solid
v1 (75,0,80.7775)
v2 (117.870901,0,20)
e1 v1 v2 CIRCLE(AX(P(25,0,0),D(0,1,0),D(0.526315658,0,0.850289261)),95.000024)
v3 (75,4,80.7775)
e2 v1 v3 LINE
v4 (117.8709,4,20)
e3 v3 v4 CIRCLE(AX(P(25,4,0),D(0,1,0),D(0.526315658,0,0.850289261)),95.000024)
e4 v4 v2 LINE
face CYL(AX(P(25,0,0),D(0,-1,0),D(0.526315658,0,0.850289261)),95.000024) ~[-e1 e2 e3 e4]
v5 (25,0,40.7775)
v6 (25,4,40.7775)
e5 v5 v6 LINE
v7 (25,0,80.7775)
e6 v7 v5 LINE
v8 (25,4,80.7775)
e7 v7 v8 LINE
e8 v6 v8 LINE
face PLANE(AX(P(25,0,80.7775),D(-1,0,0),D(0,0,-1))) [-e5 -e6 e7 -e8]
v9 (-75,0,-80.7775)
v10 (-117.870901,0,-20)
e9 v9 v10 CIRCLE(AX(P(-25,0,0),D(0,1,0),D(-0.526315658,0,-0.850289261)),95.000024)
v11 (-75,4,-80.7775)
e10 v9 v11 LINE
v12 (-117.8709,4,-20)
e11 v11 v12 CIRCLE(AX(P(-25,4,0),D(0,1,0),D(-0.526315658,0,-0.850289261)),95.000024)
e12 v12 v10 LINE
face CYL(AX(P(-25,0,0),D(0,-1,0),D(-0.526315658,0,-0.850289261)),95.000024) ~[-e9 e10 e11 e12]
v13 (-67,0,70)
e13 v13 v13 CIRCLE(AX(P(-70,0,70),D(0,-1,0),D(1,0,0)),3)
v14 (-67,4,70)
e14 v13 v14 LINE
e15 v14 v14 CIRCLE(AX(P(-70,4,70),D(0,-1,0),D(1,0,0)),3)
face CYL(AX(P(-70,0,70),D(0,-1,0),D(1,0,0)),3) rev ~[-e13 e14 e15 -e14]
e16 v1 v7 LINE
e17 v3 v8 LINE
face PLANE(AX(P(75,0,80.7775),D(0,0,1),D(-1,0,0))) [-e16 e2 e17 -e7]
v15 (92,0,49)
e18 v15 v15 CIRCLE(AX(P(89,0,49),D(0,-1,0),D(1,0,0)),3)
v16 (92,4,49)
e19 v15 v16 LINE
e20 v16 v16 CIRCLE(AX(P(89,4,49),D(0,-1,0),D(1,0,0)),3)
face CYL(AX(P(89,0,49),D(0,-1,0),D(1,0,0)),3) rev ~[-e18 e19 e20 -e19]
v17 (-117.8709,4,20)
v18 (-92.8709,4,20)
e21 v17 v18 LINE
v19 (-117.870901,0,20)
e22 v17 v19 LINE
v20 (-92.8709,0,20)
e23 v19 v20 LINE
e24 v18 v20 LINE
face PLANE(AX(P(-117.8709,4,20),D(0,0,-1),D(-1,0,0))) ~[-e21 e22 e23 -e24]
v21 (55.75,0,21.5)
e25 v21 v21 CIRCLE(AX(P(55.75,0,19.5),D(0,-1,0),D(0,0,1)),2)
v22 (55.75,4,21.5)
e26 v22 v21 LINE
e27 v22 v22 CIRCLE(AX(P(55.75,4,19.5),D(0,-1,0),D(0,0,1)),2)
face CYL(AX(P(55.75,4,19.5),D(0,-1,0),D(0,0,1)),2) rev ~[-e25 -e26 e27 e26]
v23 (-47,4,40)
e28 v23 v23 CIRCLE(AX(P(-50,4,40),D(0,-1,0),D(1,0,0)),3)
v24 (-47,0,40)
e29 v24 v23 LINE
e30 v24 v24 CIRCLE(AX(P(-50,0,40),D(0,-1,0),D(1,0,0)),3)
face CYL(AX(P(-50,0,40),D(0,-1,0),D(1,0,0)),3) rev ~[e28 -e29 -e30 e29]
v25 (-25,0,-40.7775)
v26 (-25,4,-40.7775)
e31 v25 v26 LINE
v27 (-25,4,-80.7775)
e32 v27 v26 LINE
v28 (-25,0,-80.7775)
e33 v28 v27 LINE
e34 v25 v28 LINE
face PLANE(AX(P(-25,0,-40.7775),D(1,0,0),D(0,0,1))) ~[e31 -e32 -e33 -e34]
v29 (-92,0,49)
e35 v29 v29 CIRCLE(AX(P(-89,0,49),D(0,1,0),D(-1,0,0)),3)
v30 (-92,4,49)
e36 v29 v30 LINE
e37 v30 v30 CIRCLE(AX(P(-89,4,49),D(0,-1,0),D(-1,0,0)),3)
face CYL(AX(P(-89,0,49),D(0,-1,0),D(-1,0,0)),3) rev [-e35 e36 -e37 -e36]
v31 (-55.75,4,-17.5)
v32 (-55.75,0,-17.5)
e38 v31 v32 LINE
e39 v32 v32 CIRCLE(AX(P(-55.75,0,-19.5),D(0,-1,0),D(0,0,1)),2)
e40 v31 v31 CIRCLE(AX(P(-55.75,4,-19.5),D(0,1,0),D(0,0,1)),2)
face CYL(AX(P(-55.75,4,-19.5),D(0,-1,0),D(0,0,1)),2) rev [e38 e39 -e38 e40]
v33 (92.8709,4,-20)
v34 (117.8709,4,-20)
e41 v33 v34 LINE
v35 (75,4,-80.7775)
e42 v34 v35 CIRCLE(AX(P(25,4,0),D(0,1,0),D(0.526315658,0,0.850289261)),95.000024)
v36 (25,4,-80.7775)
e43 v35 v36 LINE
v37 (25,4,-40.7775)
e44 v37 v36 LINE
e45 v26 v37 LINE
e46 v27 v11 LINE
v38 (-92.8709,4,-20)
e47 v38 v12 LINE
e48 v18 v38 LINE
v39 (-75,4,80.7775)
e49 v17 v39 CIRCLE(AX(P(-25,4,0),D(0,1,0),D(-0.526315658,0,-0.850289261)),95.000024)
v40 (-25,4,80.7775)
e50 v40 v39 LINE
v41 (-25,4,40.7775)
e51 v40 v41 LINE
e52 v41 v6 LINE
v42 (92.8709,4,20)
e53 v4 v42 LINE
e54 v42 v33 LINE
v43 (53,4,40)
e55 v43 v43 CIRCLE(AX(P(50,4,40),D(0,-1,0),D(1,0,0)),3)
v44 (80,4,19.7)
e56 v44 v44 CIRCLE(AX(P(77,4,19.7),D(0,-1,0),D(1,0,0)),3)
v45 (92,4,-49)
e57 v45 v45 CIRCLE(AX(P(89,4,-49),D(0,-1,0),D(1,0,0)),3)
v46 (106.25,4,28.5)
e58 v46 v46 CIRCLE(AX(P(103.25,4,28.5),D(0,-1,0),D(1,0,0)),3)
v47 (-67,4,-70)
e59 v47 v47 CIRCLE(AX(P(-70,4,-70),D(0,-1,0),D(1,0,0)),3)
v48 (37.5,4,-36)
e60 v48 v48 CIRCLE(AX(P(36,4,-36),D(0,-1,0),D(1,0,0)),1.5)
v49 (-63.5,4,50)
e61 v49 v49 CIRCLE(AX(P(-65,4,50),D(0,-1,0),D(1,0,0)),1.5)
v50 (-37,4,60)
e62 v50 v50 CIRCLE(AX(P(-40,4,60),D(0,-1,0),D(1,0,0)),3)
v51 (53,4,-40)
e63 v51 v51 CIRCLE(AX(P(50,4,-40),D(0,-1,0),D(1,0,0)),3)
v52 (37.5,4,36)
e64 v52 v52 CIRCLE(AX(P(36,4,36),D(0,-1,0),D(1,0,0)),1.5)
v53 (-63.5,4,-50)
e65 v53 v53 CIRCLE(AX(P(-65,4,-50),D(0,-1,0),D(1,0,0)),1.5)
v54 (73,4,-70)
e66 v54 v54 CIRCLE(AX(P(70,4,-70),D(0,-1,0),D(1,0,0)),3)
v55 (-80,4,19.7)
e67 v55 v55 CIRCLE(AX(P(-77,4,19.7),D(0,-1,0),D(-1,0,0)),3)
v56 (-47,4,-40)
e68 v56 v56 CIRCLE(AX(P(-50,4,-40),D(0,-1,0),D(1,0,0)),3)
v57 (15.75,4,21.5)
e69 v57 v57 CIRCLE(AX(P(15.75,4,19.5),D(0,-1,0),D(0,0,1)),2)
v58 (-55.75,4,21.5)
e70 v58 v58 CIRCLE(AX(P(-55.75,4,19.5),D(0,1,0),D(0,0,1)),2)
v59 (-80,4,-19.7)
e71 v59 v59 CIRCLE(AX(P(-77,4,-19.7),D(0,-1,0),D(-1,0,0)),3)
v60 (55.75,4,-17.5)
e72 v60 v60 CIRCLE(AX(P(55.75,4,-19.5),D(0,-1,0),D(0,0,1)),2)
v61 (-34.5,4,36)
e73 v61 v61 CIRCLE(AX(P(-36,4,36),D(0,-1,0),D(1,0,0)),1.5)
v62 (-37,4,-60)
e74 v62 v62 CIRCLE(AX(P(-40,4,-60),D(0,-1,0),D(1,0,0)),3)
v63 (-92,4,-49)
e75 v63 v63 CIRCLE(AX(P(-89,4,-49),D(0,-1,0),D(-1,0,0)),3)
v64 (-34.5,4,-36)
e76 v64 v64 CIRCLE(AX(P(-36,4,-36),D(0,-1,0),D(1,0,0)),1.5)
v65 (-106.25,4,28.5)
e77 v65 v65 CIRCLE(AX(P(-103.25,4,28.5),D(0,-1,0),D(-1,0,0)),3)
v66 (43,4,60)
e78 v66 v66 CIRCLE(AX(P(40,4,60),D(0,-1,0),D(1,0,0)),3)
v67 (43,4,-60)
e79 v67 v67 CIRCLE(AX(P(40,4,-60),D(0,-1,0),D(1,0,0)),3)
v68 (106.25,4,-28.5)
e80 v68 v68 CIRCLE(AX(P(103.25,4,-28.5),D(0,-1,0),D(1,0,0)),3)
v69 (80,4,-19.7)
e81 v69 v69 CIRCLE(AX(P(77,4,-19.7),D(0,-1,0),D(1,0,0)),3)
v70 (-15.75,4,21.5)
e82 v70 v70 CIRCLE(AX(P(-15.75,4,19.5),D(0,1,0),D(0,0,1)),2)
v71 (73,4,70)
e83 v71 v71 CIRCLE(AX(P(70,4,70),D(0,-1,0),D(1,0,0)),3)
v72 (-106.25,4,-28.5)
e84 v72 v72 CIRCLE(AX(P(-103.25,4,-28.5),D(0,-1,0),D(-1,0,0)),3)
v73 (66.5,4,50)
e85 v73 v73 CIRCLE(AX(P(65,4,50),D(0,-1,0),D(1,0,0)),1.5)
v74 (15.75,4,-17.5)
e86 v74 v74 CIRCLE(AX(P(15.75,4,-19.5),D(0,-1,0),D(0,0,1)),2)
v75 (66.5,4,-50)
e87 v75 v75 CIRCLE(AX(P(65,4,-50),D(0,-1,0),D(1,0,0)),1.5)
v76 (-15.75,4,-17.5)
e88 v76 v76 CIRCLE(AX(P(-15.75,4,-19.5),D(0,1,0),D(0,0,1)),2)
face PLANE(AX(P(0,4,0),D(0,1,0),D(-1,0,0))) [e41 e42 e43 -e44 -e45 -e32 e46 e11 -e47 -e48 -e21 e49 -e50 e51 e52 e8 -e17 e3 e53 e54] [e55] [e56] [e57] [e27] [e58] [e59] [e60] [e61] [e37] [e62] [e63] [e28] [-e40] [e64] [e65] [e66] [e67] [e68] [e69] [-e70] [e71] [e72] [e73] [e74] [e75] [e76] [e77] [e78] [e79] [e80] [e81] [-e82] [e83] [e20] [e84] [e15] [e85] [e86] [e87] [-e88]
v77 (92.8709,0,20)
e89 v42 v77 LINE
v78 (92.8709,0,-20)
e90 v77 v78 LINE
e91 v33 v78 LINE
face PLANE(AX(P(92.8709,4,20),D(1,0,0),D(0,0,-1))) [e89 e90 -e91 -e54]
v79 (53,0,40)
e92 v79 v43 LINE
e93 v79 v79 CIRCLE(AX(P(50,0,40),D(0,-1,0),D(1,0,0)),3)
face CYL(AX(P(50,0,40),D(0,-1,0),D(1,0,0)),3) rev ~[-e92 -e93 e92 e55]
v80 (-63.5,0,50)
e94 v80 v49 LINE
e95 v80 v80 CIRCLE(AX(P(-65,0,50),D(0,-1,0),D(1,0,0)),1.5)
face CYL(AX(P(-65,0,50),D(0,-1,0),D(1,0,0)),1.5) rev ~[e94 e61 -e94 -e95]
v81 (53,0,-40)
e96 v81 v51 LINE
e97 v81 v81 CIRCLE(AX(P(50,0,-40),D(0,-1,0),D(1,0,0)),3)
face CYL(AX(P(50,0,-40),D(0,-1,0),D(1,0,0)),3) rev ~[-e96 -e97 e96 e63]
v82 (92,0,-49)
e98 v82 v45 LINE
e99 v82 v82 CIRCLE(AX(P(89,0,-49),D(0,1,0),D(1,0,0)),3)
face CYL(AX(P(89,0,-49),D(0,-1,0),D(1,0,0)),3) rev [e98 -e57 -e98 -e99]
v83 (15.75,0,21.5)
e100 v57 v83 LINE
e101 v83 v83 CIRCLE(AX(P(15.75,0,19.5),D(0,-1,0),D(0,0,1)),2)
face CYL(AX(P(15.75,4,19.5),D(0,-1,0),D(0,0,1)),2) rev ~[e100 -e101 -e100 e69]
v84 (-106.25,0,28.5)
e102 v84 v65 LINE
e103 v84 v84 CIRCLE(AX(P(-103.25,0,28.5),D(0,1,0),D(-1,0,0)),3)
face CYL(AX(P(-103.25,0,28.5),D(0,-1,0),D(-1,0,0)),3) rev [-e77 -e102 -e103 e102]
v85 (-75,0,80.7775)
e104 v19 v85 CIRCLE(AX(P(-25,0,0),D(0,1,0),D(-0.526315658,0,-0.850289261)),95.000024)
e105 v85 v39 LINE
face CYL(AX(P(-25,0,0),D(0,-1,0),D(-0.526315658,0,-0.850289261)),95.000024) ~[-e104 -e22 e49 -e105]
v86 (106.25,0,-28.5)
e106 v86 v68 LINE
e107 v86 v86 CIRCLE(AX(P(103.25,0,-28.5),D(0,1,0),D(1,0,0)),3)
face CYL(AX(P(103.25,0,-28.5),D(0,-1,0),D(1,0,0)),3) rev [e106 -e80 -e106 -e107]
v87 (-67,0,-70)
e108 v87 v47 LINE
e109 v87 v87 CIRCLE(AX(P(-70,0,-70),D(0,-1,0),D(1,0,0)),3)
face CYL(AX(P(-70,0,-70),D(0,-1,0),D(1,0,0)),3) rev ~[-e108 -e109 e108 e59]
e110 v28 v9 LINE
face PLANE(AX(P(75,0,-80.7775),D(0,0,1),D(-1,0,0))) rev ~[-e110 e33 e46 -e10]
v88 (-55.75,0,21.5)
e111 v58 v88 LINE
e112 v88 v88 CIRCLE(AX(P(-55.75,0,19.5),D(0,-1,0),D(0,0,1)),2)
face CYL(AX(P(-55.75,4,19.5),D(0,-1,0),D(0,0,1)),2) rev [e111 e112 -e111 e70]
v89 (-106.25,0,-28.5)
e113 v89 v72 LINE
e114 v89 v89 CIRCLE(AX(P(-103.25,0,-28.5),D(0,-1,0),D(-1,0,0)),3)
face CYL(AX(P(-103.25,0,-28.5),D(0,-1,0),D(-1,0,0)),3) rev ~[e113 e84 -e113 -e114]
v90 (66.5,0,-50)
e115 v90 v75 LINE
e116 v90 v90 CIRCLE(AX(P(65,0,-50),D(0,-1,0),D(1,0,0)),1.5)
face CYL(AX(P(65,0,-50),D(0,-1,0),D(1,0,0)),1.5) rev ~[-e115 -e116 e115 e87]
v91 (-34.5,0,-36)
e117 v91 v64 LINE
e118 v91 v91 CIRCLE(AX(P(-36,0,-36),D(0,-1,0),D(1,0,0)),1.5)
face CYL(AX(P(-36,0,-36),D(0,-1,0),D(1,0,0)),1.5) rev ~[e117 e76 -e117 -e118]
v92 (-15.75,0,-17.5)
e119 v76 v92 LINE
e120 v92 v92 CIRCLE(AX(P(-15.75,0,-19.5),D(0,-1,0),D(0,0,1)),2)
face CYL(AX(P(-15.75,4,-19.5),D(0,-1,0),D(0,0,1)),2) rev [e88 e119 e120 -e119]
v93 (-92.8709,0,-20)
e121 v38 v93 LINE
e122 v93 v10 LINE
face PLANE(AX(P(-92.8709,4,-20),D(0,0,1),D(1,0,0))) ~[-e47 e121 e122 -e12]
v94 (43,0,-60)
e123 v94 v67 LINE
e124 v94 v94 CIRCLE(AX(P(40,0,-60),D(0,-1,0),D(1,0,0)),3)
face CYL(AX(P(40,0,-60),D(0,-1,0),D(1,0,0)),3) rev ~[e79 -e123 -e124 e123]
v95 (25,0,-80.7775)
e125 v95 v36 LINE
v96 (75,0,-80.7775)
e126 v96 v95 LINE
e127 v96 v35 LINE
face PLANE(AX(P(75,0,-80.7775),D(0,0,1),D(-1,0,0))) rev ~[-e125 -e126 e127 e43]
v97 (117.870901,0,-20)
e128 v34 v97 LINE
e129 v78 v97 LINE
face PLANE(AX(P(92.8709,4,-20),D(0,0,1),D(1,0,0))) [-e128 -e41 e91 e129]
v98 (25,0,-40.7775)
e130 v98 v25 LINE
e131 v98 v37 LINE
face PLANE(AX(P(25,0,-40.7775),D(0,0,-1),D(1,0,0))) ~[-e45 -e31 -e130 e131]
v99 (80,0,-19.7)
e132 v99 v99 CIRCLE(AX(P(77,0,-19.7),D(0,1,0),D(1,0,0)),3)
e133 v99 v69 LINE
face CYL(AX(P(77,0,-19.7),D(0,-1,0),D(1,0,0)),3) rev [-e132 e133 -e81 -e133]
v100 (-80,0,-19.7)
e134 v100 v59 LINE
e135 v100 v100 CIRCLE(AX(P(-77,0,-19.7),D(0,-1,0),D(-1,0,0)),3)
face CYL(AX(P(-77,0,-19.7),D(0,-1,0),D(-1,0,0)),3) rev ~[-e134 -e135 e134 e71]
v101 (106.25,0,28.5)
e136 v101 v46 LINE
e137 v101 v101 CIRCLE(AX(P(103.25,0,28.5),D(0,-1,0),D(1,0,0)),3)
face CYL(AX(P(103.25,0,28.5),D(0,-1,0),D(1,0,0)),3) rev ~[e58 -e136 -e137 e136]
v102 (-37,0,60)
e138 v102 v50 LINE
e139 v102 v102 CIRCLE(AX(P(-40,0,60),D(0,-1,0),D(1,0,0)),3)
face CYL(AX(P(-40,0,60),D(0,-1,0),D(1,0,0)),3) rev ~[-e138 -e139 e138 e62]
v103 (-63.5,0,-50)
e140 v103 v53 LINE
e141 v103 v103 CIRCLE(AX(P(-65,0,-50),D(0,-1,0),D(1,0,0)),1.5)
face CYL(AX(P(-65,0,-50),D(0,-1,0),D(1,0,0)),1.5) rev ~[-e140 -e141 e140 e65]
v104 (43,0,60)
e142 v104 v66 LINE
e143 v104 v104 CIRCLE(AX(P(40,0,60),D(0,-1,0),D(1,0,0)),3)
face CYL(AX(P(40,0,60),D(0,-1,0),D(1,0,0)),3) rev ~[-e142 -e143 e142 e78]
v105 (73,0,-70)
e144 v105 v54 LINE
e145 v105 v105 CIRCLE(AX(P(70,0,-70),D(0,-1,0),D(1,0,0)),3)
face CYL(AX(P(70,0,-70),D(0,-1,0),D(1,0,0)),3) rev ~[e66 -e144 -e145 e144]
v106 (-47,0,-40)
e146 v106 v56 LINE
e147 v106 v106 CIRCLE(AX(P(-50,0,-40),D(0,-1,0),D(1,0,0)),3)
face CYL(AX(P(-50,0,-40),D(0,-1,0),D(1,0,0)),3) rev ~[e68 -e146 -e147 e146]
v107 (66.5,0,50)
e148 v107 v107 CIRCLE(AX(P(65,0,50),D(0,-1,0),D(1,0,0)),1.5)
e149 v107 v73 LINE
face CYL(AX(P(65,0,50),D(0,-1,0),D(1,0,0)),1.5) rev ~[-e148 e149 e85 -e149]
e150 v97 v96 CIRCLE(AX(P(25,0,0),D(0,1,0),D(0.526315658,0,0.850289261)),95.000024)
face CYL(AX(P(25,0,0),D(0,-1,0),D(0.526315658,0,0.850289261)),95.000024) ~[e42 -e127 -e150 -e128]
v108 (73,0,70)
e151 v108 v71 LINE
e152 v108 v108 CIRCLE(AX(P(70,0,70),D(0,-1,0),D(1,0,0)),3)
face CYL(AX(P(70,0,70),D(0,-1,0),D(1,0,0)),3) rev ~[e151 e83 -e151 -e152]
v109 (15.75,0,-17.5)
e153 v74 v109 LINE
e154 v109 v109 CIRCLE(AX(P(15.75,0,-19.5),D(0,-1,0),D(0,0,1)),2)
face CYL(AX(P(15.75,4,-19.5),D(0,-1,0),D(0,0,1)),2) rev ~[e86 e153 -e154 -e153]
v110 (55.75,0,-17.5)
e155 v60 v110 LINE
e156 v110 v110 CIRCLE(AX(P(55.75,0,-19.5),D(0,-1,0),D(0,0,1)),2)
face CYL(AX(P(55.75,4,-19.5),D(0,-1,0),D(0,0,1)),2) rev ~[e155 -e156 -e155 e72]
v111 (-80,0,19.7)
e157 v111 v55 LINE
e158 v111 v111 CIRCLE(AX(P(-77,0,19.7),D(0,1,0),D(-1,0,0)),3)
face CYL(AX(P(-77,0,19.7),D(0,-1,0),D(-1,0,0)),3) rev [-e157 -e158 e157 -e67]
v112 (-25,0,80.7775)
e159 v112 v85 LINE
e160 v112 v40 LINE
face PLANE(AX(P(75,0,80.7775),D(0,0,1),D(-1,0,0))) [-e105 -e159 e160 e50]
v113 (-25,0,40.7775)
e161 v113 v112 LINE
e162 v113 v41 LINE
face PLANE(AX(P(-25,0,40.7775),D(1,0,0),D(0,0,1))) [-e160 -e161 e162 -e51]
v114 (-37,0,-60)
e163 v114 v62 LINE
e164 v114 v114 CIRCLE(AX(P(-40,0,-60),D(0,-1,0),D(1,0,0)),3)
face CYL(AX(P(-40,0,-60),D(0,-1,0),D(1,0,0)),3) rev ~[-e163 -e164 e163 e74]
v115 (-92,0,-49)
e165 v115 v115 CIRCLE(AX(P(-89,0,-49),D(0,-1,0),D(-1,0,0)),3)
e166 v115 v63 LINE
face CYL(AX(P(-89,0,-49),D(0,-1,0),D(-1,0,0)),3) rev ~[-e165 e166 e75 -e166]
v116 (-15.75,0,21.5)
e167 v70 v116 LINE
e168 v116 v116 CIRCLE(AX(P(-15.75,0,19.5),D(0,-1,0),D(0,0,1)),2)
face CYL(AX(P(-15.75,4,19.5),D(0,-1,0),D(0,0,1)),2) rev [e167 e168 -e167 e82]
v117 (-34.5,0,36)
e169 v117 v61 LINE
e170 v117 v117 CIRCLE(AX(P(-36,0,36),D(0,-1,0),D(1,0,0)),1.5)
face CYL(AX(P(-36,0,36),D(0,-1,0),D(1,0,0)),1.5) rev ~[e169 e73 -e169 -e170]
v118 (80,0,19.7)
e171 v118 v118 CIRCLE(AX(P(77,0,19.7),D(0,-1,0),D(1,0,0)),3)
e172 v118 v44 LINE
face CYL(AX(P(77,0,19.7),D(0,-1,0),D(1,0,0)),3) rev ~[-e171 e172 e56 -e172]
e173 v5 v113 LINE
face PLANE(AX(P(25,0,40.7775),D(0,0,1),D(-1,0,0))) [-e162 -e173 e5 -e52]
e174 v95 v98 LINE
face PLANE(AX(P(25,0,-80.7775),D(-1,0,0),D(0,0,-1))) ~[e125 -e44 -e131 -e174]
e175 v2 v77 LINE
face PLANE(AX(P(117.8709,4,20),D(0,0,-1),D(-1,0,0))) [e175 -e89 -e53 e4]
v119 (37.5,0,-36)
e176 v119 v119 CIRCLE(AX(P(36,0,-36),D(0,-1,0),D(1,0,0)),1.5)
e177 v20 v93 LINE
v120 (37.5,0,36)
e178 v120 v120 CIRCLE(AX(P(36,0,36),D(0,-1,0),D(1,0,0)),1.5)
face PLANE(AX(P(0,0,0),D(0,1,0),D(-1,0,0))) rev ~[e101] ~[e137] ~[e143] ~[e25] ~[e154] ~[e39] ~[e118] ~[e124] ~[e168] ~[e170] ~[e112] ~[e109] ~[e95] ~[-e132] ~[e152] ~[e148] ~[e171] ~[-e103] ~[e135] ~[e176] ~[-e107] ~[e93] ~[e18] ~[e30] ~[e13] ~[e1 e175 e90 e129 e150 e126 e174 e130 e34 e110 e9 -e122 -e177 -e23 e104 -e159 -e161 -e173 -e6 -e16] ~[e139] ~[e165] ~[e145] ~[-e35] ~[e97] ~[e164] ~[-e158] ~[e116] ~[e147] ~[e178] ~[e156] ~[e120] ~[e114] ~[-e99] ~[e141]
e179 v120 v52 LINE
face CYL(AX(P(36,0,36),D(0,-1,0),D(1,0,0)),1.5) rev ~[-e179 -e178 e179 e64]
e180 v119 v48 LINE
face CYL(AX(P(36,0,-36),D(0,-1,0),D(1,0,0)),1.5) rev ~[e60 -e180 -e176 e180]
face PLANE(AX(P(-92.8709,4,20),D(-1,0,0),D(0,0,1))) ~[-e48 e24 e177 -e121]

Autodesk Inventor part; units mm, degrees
ref_plane "YZ Plane" through (0, 0, 0) normal (1, 0, 0) x (0, 1, 0)
ref_plane "XZ Plane" through (0, 0, 0) normal (0, 1, 0) x (-1, 0, 0)
ref_plane "XY Plane" through (0, 0, 0) normal (0, 0, 1) x (1, 0, 0)
sketch "Esquisse1" plane through (0, 0, 0) normal (0, 1, 0) x (-1, 0, 0)
  circle A0 centre (0, 0) radius 25 construction
  line L0 (-25, 0) -> (25, 0) construction
  arc A1 (-75, -80.7775) -> (-75, 80.7775) centre (-25, 0) ccw construction
  arc A2 (75, 80.7775) -> (75, -80.7775) centre (25, 0) ccw construction
  line L1 (0, 25) -> (0, 0) construction
  line L2 (-75, 80.7775) -> (75, 80.7775)
  line L3 (-75, -80.7775) -> (75, -80.7775)
  arc A3 (75, -80.7775) -> (75, 80.7775) centre (25, 0) ccw
  arc A4 (-75, 80.7775) -> (-75, -80.7775) centre (-25, 0) ccw
  dimension "d0" = 50
  dimension "d1" = 190
  dimension "d2" = 150
extrude "Extrusion1" add sketch "Esquisse1" along normal blind 4
sketch "Esquisse4" plane through (0, 0, 0) normal (0, -1, 0) x (1, 0, 0)
  line L0 (-50, 40) -> (50, 40) construction
  line L1 (50, 40) -> (50, -40) construction
  line L2 (50, -40) -> (-50, -40) construction
  line L3 (-50, -40) -> (-50, 40) construction
  circle A0 centre (-50, 40) radius 3
  circle A1 centre (50, 40) radius 3
  circle A2 centre (50, -40) radius 3
  circle A3 centre (-50, -40) radius 3
  line L4 (75, 80.7775) -> (-75, 80.7775) projected
  point P0 (0, 0)
  dimension "d15" = 80
  dimension "d16" = 100
  dimension "d17" = 50
  dimension "d18" = 40
  dimension "d19" = 6
  dimension "d20" = 6
  dimension "d21" = 6
  dimension "d22" = 6
  dimension "d25" = 40.7775
extrude "Extrusion4" cut sketch "Esquisse4" against normal through all
sketch "Esquisse8" plane through (0, 0, 0) normal (0, -1, 0) x (1, 0, 0)
  line L0 (96.5, 35) -> (96.5, -35) projected
  line L1 (82, 42) -> (96, 42)
  line L2 (96, 42) -> (96, -42)
  line L3 (96, -42) -> (82, -42)
  line L4 (82, -42) -> (82, 42)
  line L5 (96, 21.5) -> (108.5, 21.5)
  line L6 (108.5, 21.5) -> (108.5, -21.5)
  line L7 (108.5, -21.5) -> (96, -21.5)
  line L8 (96, -21.5) -> (96, 21.5)
  line L9 (82, -14.7) -> (76.3, -14.7)
  line L10 (76.3, -14.7) -> (76.3, 14.7)
  line L11 (76.3, 14.7) -> (82, 14.7)
  line L12 (82, 14.7) -> (82, -14.7)
  line L13 (82, 14.7) -> (72, 14.7)
  line L14 (72, 14.7) -> (72, 24.7)
  line L15 (72, 24.7) -> (82, 24.7)
  line L16 (82, 24.7) -> (82, 14.7)
  line L17 (96, 21.5) -> (110.5, 21.5)
  line L18 (110.5, 21.5) -> (110.5, 35.5)
  line L19 (110.5, 35.5) -> (96, 35.5)
  line L20 (96, 35.5) -> (96, 21.5)
  line L21 (96, 42) -> (82, 42)
  line L22 (82, 42) -> (82, 56)
  line L23 (82, 56) -> (96, 56)
  line L24 (96, 56) -> (96, 42)
  line L25 (72, 24.7) -> (82, 14.7) construction
  line L26 (82, 24.7) -> (72, 14.7) construction
  line L27 (110.5, 21.5) -> (96, 35.5) construction
  line L28 (96, 21.5) -> (110.5, 35.5) construction
  line L29 (82, 56) -> (96, 42) construction
  line L30 (82, 42) -> (96, 56) construction
  circle A0 centre (89, 49) radius 3
  circle A1 centre (77, 19.7) radius 3
  circle A2 centre (103.25, 28.5) radius 3
  arc A3 (75, -80.7775) -> (75, 80.7775) centre (25, 0) ccw projected
  line L31 (108.5, 21.5) -> (115, 21.5)
  line L32 (115, 21.5) -> (115, -21.5)
  line L33 (115, -21.5) -> (108.5, -21.5)
  line L34 (108.5, -21.5) -> (108.5, 21.5)
  line L35 (0, 0) -> (120, 0)
  dimension "d59" = 84
  dimension "d60" = 14
  dimension "d61" = 29.4
  dimension "d62" = 5.7
  dimension "d63" = 12.5
  dimension "d64" = 43
  dimension "d65" = 42
  dimension "d66" = 14.7
  dimension "d67" = 21.5
  dimension "d68" = 14
  dimension "d69" = 14
  dimension "d70" = 14
  dimension "d71" = 10
  dimension "d72" = 10
  dimension "d73" = 6
  dimension "d74" = 6
  dimension "d75" = 6
  dimension "d78" = 6.5
  dimension "d79" = 5
extrude "Extrusion6" cut sketch "Esquisse8" against normal through all contours A0 | A1 | A2
mirror "Symétrie2" about plane through (0, 0, 0) normal (0, 0, 1) of "Extrusion6"
mirror "Symétrie3" about plane through (0, 0, 0) normal (1, 0, 0) of "Extrusion6", "Symétrie2"
sketch "Esquisse11" plane through (0, 4, 0) normal (0, 1, 0) x (1, 0, 0)
  line L0 (15.75, 19.5) -> (55.75, 19.5)
  line L1 (55.75, 19.5) -> (55.75, -19.5)
  line L2 (55.75, -19.5) -> (15.75, -19.5)
  line L3 (15.75, -19.5) -> (15.75, 19.5)
  line L4 (11.75, 23.5) -> (59.75, 23.5)
  line L5 (59.75, 23.5) -> (59.75, -23.5)
  line L6 (59.75, -23.5) -> (11.75, -23.5)
  line L7 (11.75, -23.5) -> (11.75, 23.5)
  point P0 (0, 0)
  dimension "d103" = 40
  dimension "d104" = 48
  dimension "d105" = 4
  dimension "d106" = 47
  dimension "d107" = 39
  dimension "d108" = 4
  dimension "d109" = 23.5
  dimension "d110" = 11.75
hole "Perçage1" at (15.75, 4, -19.5) at (55.75, 4, -19.5) at (55.75, 4, 19.5) at (15.75, 4, 19.5) direction (0, -1, 0) diameter 4 end through all
mirror "Symétrie7" about plane through (0, 0, 0) normal (1, 0, 0) of "Perçage1"
sketch "Esquisse12" plane through (0, 4, 0) normal (0, 1, 0) x (1, 0, 0)
  arc A0 (75, -80.7775) -> (75, 80.7775) centre (25, 0) ccw projected
  line L0 (92.8709, 20) -> (117.8709, 20)
  line L1 (117.8709, 20) -> (117.8709, -20)
  line L2 (117.8709, -20) -> (92.8709, -20)
  line L3 (92.8709, -20) -> (92.8709, 20)
  arc A1 (117.8709, 20) -> (117.8709, -20) centre (25, 0) ccw
  arc A2 (117.8709, -20) -> (117.8709, 20) centre (25, 0) ccw
  point P0 (0, 0)
  dimension "d111" = 25
  dimension "d112" = 40
extrude "Extrusion9" cut sketch "Esquisse12" against normal through all contours L1 A0 | L2 L3 L0 L1
mirror "Symétrie8" about plane through (0, 0, 0) normal (1, 0, 0) of "Extrusion9"
sketch "Esquisse14" plane through (0, 0, 0) normal (0, -1, 0) x (1, 0, 0)
  line L0 (75, 80.7775) -> (-75, 80.7775) projected
  line L1 (-25, 80.7775) -> (25, 80.7775)
  line L2 (25, 80.7775) -> (25, 40.7775)
  line L3 (25, 40.7775) -> (-25, 40.7775)
  line L4 (-25, 40.7775) -> (-25, 80.7775)
  point P0 (0, 0)
  dimension "d131" = 50
  dimension "d132" = 25
  dimension "d133" = 40
extrude "Extrusion11" cut sketch "Esquisse14" against normal through all
mirror "Symétrie10" about plane through (0, 0, 0) normal (0, 0, 1) of "Extrusion11"
sketch "Esquisse15" plane through (0, 0, 0) normal (0, -1, 0) x (1, 0, 0)
  line L0 (-40, 60) -> (40, 60) construction
  line L1 (40, 60) -> (40, -60) construction
  line L2 (40, -60) -> (-40, -60) construction
  line L3 (-40, -60) -> (-40, 60) construction
  circle A0 centre (40, 60) radius 3
  circle A1 centre (-40, 60) radius 3
  circle A2 centre (-40, -60) radius 3
  circle A3 centre (40, -60) radius 3
  point P0 (0, 0)
  dimension "d136" = 120
  dimension "d137" = 80
  dimension "d138" = 40
  dimension "d139" = 60
  dimension "d140" = 6
  dimension "d141" = 6
  dimension "d142" = 6
  dimension "d143" = 6
extrude "Extrusion12" cut sketch "Esquisse15" against normal through all
sketch "Esquisse16" plane through (0, 0, 0) normal (0, -1, 0) x (1, 0, 0)
  line L0 (-70, 70) -> (70, 70) construction
  line L1 (70, 70) -> (70, -70) construction
  line L2 (70, -70) -> (-70, -70) construction
  line L3 (-70, -70) -> (-70, 70) construction
  circle A0 centre (70, 70) radius 3
  circle A1 centre (-70, 70) radius 3
  circle A2 centre (-70, -70) radius 3
  circle A3 centre (70, -70) radius 3
  point P0 (0, 0)
  dimension "d146" = 140
  dimension "d147" = 140
  dimension "d148" = 6
  dimension "d149" = 6
  dimension "d150" = 6
  dimension "d151" = 6
  dimension "d152" = 70
  dimension "d153" = 70
extrude "Extrusion13" cut sketch "Esquisse16" against normal through all
sketch "Esquisse17" plane through (0, 0, 0) normal (0, -1, 0) x (1, 0, 0)
  line L0 (-36, 36) -> (36, 36) construction
  line L1 (36, 36) -> (36, -36) construction
  line L2 (36, -36) -> (-36, -36) construction
  line L3 (-36, -36) -> (-36, 36) construction
  circle A0 centre (-36, 36) radius 1.5
  circle A1 centre (36, 36) radius 1.5
  circle A2 centre (36, -36) radius 1.5
  circle A3 centre (-36, -36) radius 1.5
  point P0 (0, 0)
  dimension "d156" = 72
  dimension "d157" = 72
  dimension "d158" = 3
  dimension "d159" = 3
  dimension "d160" = 3
  dimension "d161" = 3
  dimension "d162" = 36
  dimension "d163" = 36
extrude "Extrusion14" cut sketch "Esquisse17" against normal through all
sketch "Esquisse18" plane through (0, 0, 0) normal (0, -1, 0) x (1, 0, 0)
  line L0 (-65, 50) -> (65, 50) construction
  line L1 (65, 50) -> (65, -50) construction
  line L2 (65, -50) -> (-65, -50) construction
  line L3 (-65, -50) -> (-65, 50) construction
  circle A0 centre (-65, 50) radius 1.5
  circle A1 centre (65, 50) radius 1.5
  circle A2 centre (65, -50) radius 1.5
  circle A3 centre (-65, -50) radius 1.5
  point P0 (0, 0)
  dimension "d166" = 3
  dimension "d167" = 3
  dimension "d168" = 3
  dimension "d169" = 3
  dimension "d170" = 100
  dimension "d171" = 130
  dimension "d172" = 65
  dimension "d173" = 50
extrude "Extrusion15" cut sketch "Esquisse18" against normal through all
equation "\"d17\" = 0.5 * d16"
equation "\"d18\" = 0.5 * d15"
equation "\"d20\" = d19"
equation "\"d21\" = d19"
equation "\"d22\" = d19"
equation "\"d65\" = 0.5 * d59"
equation "\"d66\" = 0.5 * d61"
equation "\"d67\" = 0.5 * d64"
equation "\"d68\" = d60"
equation "\"d70\" = d69"
properties part number "base"
